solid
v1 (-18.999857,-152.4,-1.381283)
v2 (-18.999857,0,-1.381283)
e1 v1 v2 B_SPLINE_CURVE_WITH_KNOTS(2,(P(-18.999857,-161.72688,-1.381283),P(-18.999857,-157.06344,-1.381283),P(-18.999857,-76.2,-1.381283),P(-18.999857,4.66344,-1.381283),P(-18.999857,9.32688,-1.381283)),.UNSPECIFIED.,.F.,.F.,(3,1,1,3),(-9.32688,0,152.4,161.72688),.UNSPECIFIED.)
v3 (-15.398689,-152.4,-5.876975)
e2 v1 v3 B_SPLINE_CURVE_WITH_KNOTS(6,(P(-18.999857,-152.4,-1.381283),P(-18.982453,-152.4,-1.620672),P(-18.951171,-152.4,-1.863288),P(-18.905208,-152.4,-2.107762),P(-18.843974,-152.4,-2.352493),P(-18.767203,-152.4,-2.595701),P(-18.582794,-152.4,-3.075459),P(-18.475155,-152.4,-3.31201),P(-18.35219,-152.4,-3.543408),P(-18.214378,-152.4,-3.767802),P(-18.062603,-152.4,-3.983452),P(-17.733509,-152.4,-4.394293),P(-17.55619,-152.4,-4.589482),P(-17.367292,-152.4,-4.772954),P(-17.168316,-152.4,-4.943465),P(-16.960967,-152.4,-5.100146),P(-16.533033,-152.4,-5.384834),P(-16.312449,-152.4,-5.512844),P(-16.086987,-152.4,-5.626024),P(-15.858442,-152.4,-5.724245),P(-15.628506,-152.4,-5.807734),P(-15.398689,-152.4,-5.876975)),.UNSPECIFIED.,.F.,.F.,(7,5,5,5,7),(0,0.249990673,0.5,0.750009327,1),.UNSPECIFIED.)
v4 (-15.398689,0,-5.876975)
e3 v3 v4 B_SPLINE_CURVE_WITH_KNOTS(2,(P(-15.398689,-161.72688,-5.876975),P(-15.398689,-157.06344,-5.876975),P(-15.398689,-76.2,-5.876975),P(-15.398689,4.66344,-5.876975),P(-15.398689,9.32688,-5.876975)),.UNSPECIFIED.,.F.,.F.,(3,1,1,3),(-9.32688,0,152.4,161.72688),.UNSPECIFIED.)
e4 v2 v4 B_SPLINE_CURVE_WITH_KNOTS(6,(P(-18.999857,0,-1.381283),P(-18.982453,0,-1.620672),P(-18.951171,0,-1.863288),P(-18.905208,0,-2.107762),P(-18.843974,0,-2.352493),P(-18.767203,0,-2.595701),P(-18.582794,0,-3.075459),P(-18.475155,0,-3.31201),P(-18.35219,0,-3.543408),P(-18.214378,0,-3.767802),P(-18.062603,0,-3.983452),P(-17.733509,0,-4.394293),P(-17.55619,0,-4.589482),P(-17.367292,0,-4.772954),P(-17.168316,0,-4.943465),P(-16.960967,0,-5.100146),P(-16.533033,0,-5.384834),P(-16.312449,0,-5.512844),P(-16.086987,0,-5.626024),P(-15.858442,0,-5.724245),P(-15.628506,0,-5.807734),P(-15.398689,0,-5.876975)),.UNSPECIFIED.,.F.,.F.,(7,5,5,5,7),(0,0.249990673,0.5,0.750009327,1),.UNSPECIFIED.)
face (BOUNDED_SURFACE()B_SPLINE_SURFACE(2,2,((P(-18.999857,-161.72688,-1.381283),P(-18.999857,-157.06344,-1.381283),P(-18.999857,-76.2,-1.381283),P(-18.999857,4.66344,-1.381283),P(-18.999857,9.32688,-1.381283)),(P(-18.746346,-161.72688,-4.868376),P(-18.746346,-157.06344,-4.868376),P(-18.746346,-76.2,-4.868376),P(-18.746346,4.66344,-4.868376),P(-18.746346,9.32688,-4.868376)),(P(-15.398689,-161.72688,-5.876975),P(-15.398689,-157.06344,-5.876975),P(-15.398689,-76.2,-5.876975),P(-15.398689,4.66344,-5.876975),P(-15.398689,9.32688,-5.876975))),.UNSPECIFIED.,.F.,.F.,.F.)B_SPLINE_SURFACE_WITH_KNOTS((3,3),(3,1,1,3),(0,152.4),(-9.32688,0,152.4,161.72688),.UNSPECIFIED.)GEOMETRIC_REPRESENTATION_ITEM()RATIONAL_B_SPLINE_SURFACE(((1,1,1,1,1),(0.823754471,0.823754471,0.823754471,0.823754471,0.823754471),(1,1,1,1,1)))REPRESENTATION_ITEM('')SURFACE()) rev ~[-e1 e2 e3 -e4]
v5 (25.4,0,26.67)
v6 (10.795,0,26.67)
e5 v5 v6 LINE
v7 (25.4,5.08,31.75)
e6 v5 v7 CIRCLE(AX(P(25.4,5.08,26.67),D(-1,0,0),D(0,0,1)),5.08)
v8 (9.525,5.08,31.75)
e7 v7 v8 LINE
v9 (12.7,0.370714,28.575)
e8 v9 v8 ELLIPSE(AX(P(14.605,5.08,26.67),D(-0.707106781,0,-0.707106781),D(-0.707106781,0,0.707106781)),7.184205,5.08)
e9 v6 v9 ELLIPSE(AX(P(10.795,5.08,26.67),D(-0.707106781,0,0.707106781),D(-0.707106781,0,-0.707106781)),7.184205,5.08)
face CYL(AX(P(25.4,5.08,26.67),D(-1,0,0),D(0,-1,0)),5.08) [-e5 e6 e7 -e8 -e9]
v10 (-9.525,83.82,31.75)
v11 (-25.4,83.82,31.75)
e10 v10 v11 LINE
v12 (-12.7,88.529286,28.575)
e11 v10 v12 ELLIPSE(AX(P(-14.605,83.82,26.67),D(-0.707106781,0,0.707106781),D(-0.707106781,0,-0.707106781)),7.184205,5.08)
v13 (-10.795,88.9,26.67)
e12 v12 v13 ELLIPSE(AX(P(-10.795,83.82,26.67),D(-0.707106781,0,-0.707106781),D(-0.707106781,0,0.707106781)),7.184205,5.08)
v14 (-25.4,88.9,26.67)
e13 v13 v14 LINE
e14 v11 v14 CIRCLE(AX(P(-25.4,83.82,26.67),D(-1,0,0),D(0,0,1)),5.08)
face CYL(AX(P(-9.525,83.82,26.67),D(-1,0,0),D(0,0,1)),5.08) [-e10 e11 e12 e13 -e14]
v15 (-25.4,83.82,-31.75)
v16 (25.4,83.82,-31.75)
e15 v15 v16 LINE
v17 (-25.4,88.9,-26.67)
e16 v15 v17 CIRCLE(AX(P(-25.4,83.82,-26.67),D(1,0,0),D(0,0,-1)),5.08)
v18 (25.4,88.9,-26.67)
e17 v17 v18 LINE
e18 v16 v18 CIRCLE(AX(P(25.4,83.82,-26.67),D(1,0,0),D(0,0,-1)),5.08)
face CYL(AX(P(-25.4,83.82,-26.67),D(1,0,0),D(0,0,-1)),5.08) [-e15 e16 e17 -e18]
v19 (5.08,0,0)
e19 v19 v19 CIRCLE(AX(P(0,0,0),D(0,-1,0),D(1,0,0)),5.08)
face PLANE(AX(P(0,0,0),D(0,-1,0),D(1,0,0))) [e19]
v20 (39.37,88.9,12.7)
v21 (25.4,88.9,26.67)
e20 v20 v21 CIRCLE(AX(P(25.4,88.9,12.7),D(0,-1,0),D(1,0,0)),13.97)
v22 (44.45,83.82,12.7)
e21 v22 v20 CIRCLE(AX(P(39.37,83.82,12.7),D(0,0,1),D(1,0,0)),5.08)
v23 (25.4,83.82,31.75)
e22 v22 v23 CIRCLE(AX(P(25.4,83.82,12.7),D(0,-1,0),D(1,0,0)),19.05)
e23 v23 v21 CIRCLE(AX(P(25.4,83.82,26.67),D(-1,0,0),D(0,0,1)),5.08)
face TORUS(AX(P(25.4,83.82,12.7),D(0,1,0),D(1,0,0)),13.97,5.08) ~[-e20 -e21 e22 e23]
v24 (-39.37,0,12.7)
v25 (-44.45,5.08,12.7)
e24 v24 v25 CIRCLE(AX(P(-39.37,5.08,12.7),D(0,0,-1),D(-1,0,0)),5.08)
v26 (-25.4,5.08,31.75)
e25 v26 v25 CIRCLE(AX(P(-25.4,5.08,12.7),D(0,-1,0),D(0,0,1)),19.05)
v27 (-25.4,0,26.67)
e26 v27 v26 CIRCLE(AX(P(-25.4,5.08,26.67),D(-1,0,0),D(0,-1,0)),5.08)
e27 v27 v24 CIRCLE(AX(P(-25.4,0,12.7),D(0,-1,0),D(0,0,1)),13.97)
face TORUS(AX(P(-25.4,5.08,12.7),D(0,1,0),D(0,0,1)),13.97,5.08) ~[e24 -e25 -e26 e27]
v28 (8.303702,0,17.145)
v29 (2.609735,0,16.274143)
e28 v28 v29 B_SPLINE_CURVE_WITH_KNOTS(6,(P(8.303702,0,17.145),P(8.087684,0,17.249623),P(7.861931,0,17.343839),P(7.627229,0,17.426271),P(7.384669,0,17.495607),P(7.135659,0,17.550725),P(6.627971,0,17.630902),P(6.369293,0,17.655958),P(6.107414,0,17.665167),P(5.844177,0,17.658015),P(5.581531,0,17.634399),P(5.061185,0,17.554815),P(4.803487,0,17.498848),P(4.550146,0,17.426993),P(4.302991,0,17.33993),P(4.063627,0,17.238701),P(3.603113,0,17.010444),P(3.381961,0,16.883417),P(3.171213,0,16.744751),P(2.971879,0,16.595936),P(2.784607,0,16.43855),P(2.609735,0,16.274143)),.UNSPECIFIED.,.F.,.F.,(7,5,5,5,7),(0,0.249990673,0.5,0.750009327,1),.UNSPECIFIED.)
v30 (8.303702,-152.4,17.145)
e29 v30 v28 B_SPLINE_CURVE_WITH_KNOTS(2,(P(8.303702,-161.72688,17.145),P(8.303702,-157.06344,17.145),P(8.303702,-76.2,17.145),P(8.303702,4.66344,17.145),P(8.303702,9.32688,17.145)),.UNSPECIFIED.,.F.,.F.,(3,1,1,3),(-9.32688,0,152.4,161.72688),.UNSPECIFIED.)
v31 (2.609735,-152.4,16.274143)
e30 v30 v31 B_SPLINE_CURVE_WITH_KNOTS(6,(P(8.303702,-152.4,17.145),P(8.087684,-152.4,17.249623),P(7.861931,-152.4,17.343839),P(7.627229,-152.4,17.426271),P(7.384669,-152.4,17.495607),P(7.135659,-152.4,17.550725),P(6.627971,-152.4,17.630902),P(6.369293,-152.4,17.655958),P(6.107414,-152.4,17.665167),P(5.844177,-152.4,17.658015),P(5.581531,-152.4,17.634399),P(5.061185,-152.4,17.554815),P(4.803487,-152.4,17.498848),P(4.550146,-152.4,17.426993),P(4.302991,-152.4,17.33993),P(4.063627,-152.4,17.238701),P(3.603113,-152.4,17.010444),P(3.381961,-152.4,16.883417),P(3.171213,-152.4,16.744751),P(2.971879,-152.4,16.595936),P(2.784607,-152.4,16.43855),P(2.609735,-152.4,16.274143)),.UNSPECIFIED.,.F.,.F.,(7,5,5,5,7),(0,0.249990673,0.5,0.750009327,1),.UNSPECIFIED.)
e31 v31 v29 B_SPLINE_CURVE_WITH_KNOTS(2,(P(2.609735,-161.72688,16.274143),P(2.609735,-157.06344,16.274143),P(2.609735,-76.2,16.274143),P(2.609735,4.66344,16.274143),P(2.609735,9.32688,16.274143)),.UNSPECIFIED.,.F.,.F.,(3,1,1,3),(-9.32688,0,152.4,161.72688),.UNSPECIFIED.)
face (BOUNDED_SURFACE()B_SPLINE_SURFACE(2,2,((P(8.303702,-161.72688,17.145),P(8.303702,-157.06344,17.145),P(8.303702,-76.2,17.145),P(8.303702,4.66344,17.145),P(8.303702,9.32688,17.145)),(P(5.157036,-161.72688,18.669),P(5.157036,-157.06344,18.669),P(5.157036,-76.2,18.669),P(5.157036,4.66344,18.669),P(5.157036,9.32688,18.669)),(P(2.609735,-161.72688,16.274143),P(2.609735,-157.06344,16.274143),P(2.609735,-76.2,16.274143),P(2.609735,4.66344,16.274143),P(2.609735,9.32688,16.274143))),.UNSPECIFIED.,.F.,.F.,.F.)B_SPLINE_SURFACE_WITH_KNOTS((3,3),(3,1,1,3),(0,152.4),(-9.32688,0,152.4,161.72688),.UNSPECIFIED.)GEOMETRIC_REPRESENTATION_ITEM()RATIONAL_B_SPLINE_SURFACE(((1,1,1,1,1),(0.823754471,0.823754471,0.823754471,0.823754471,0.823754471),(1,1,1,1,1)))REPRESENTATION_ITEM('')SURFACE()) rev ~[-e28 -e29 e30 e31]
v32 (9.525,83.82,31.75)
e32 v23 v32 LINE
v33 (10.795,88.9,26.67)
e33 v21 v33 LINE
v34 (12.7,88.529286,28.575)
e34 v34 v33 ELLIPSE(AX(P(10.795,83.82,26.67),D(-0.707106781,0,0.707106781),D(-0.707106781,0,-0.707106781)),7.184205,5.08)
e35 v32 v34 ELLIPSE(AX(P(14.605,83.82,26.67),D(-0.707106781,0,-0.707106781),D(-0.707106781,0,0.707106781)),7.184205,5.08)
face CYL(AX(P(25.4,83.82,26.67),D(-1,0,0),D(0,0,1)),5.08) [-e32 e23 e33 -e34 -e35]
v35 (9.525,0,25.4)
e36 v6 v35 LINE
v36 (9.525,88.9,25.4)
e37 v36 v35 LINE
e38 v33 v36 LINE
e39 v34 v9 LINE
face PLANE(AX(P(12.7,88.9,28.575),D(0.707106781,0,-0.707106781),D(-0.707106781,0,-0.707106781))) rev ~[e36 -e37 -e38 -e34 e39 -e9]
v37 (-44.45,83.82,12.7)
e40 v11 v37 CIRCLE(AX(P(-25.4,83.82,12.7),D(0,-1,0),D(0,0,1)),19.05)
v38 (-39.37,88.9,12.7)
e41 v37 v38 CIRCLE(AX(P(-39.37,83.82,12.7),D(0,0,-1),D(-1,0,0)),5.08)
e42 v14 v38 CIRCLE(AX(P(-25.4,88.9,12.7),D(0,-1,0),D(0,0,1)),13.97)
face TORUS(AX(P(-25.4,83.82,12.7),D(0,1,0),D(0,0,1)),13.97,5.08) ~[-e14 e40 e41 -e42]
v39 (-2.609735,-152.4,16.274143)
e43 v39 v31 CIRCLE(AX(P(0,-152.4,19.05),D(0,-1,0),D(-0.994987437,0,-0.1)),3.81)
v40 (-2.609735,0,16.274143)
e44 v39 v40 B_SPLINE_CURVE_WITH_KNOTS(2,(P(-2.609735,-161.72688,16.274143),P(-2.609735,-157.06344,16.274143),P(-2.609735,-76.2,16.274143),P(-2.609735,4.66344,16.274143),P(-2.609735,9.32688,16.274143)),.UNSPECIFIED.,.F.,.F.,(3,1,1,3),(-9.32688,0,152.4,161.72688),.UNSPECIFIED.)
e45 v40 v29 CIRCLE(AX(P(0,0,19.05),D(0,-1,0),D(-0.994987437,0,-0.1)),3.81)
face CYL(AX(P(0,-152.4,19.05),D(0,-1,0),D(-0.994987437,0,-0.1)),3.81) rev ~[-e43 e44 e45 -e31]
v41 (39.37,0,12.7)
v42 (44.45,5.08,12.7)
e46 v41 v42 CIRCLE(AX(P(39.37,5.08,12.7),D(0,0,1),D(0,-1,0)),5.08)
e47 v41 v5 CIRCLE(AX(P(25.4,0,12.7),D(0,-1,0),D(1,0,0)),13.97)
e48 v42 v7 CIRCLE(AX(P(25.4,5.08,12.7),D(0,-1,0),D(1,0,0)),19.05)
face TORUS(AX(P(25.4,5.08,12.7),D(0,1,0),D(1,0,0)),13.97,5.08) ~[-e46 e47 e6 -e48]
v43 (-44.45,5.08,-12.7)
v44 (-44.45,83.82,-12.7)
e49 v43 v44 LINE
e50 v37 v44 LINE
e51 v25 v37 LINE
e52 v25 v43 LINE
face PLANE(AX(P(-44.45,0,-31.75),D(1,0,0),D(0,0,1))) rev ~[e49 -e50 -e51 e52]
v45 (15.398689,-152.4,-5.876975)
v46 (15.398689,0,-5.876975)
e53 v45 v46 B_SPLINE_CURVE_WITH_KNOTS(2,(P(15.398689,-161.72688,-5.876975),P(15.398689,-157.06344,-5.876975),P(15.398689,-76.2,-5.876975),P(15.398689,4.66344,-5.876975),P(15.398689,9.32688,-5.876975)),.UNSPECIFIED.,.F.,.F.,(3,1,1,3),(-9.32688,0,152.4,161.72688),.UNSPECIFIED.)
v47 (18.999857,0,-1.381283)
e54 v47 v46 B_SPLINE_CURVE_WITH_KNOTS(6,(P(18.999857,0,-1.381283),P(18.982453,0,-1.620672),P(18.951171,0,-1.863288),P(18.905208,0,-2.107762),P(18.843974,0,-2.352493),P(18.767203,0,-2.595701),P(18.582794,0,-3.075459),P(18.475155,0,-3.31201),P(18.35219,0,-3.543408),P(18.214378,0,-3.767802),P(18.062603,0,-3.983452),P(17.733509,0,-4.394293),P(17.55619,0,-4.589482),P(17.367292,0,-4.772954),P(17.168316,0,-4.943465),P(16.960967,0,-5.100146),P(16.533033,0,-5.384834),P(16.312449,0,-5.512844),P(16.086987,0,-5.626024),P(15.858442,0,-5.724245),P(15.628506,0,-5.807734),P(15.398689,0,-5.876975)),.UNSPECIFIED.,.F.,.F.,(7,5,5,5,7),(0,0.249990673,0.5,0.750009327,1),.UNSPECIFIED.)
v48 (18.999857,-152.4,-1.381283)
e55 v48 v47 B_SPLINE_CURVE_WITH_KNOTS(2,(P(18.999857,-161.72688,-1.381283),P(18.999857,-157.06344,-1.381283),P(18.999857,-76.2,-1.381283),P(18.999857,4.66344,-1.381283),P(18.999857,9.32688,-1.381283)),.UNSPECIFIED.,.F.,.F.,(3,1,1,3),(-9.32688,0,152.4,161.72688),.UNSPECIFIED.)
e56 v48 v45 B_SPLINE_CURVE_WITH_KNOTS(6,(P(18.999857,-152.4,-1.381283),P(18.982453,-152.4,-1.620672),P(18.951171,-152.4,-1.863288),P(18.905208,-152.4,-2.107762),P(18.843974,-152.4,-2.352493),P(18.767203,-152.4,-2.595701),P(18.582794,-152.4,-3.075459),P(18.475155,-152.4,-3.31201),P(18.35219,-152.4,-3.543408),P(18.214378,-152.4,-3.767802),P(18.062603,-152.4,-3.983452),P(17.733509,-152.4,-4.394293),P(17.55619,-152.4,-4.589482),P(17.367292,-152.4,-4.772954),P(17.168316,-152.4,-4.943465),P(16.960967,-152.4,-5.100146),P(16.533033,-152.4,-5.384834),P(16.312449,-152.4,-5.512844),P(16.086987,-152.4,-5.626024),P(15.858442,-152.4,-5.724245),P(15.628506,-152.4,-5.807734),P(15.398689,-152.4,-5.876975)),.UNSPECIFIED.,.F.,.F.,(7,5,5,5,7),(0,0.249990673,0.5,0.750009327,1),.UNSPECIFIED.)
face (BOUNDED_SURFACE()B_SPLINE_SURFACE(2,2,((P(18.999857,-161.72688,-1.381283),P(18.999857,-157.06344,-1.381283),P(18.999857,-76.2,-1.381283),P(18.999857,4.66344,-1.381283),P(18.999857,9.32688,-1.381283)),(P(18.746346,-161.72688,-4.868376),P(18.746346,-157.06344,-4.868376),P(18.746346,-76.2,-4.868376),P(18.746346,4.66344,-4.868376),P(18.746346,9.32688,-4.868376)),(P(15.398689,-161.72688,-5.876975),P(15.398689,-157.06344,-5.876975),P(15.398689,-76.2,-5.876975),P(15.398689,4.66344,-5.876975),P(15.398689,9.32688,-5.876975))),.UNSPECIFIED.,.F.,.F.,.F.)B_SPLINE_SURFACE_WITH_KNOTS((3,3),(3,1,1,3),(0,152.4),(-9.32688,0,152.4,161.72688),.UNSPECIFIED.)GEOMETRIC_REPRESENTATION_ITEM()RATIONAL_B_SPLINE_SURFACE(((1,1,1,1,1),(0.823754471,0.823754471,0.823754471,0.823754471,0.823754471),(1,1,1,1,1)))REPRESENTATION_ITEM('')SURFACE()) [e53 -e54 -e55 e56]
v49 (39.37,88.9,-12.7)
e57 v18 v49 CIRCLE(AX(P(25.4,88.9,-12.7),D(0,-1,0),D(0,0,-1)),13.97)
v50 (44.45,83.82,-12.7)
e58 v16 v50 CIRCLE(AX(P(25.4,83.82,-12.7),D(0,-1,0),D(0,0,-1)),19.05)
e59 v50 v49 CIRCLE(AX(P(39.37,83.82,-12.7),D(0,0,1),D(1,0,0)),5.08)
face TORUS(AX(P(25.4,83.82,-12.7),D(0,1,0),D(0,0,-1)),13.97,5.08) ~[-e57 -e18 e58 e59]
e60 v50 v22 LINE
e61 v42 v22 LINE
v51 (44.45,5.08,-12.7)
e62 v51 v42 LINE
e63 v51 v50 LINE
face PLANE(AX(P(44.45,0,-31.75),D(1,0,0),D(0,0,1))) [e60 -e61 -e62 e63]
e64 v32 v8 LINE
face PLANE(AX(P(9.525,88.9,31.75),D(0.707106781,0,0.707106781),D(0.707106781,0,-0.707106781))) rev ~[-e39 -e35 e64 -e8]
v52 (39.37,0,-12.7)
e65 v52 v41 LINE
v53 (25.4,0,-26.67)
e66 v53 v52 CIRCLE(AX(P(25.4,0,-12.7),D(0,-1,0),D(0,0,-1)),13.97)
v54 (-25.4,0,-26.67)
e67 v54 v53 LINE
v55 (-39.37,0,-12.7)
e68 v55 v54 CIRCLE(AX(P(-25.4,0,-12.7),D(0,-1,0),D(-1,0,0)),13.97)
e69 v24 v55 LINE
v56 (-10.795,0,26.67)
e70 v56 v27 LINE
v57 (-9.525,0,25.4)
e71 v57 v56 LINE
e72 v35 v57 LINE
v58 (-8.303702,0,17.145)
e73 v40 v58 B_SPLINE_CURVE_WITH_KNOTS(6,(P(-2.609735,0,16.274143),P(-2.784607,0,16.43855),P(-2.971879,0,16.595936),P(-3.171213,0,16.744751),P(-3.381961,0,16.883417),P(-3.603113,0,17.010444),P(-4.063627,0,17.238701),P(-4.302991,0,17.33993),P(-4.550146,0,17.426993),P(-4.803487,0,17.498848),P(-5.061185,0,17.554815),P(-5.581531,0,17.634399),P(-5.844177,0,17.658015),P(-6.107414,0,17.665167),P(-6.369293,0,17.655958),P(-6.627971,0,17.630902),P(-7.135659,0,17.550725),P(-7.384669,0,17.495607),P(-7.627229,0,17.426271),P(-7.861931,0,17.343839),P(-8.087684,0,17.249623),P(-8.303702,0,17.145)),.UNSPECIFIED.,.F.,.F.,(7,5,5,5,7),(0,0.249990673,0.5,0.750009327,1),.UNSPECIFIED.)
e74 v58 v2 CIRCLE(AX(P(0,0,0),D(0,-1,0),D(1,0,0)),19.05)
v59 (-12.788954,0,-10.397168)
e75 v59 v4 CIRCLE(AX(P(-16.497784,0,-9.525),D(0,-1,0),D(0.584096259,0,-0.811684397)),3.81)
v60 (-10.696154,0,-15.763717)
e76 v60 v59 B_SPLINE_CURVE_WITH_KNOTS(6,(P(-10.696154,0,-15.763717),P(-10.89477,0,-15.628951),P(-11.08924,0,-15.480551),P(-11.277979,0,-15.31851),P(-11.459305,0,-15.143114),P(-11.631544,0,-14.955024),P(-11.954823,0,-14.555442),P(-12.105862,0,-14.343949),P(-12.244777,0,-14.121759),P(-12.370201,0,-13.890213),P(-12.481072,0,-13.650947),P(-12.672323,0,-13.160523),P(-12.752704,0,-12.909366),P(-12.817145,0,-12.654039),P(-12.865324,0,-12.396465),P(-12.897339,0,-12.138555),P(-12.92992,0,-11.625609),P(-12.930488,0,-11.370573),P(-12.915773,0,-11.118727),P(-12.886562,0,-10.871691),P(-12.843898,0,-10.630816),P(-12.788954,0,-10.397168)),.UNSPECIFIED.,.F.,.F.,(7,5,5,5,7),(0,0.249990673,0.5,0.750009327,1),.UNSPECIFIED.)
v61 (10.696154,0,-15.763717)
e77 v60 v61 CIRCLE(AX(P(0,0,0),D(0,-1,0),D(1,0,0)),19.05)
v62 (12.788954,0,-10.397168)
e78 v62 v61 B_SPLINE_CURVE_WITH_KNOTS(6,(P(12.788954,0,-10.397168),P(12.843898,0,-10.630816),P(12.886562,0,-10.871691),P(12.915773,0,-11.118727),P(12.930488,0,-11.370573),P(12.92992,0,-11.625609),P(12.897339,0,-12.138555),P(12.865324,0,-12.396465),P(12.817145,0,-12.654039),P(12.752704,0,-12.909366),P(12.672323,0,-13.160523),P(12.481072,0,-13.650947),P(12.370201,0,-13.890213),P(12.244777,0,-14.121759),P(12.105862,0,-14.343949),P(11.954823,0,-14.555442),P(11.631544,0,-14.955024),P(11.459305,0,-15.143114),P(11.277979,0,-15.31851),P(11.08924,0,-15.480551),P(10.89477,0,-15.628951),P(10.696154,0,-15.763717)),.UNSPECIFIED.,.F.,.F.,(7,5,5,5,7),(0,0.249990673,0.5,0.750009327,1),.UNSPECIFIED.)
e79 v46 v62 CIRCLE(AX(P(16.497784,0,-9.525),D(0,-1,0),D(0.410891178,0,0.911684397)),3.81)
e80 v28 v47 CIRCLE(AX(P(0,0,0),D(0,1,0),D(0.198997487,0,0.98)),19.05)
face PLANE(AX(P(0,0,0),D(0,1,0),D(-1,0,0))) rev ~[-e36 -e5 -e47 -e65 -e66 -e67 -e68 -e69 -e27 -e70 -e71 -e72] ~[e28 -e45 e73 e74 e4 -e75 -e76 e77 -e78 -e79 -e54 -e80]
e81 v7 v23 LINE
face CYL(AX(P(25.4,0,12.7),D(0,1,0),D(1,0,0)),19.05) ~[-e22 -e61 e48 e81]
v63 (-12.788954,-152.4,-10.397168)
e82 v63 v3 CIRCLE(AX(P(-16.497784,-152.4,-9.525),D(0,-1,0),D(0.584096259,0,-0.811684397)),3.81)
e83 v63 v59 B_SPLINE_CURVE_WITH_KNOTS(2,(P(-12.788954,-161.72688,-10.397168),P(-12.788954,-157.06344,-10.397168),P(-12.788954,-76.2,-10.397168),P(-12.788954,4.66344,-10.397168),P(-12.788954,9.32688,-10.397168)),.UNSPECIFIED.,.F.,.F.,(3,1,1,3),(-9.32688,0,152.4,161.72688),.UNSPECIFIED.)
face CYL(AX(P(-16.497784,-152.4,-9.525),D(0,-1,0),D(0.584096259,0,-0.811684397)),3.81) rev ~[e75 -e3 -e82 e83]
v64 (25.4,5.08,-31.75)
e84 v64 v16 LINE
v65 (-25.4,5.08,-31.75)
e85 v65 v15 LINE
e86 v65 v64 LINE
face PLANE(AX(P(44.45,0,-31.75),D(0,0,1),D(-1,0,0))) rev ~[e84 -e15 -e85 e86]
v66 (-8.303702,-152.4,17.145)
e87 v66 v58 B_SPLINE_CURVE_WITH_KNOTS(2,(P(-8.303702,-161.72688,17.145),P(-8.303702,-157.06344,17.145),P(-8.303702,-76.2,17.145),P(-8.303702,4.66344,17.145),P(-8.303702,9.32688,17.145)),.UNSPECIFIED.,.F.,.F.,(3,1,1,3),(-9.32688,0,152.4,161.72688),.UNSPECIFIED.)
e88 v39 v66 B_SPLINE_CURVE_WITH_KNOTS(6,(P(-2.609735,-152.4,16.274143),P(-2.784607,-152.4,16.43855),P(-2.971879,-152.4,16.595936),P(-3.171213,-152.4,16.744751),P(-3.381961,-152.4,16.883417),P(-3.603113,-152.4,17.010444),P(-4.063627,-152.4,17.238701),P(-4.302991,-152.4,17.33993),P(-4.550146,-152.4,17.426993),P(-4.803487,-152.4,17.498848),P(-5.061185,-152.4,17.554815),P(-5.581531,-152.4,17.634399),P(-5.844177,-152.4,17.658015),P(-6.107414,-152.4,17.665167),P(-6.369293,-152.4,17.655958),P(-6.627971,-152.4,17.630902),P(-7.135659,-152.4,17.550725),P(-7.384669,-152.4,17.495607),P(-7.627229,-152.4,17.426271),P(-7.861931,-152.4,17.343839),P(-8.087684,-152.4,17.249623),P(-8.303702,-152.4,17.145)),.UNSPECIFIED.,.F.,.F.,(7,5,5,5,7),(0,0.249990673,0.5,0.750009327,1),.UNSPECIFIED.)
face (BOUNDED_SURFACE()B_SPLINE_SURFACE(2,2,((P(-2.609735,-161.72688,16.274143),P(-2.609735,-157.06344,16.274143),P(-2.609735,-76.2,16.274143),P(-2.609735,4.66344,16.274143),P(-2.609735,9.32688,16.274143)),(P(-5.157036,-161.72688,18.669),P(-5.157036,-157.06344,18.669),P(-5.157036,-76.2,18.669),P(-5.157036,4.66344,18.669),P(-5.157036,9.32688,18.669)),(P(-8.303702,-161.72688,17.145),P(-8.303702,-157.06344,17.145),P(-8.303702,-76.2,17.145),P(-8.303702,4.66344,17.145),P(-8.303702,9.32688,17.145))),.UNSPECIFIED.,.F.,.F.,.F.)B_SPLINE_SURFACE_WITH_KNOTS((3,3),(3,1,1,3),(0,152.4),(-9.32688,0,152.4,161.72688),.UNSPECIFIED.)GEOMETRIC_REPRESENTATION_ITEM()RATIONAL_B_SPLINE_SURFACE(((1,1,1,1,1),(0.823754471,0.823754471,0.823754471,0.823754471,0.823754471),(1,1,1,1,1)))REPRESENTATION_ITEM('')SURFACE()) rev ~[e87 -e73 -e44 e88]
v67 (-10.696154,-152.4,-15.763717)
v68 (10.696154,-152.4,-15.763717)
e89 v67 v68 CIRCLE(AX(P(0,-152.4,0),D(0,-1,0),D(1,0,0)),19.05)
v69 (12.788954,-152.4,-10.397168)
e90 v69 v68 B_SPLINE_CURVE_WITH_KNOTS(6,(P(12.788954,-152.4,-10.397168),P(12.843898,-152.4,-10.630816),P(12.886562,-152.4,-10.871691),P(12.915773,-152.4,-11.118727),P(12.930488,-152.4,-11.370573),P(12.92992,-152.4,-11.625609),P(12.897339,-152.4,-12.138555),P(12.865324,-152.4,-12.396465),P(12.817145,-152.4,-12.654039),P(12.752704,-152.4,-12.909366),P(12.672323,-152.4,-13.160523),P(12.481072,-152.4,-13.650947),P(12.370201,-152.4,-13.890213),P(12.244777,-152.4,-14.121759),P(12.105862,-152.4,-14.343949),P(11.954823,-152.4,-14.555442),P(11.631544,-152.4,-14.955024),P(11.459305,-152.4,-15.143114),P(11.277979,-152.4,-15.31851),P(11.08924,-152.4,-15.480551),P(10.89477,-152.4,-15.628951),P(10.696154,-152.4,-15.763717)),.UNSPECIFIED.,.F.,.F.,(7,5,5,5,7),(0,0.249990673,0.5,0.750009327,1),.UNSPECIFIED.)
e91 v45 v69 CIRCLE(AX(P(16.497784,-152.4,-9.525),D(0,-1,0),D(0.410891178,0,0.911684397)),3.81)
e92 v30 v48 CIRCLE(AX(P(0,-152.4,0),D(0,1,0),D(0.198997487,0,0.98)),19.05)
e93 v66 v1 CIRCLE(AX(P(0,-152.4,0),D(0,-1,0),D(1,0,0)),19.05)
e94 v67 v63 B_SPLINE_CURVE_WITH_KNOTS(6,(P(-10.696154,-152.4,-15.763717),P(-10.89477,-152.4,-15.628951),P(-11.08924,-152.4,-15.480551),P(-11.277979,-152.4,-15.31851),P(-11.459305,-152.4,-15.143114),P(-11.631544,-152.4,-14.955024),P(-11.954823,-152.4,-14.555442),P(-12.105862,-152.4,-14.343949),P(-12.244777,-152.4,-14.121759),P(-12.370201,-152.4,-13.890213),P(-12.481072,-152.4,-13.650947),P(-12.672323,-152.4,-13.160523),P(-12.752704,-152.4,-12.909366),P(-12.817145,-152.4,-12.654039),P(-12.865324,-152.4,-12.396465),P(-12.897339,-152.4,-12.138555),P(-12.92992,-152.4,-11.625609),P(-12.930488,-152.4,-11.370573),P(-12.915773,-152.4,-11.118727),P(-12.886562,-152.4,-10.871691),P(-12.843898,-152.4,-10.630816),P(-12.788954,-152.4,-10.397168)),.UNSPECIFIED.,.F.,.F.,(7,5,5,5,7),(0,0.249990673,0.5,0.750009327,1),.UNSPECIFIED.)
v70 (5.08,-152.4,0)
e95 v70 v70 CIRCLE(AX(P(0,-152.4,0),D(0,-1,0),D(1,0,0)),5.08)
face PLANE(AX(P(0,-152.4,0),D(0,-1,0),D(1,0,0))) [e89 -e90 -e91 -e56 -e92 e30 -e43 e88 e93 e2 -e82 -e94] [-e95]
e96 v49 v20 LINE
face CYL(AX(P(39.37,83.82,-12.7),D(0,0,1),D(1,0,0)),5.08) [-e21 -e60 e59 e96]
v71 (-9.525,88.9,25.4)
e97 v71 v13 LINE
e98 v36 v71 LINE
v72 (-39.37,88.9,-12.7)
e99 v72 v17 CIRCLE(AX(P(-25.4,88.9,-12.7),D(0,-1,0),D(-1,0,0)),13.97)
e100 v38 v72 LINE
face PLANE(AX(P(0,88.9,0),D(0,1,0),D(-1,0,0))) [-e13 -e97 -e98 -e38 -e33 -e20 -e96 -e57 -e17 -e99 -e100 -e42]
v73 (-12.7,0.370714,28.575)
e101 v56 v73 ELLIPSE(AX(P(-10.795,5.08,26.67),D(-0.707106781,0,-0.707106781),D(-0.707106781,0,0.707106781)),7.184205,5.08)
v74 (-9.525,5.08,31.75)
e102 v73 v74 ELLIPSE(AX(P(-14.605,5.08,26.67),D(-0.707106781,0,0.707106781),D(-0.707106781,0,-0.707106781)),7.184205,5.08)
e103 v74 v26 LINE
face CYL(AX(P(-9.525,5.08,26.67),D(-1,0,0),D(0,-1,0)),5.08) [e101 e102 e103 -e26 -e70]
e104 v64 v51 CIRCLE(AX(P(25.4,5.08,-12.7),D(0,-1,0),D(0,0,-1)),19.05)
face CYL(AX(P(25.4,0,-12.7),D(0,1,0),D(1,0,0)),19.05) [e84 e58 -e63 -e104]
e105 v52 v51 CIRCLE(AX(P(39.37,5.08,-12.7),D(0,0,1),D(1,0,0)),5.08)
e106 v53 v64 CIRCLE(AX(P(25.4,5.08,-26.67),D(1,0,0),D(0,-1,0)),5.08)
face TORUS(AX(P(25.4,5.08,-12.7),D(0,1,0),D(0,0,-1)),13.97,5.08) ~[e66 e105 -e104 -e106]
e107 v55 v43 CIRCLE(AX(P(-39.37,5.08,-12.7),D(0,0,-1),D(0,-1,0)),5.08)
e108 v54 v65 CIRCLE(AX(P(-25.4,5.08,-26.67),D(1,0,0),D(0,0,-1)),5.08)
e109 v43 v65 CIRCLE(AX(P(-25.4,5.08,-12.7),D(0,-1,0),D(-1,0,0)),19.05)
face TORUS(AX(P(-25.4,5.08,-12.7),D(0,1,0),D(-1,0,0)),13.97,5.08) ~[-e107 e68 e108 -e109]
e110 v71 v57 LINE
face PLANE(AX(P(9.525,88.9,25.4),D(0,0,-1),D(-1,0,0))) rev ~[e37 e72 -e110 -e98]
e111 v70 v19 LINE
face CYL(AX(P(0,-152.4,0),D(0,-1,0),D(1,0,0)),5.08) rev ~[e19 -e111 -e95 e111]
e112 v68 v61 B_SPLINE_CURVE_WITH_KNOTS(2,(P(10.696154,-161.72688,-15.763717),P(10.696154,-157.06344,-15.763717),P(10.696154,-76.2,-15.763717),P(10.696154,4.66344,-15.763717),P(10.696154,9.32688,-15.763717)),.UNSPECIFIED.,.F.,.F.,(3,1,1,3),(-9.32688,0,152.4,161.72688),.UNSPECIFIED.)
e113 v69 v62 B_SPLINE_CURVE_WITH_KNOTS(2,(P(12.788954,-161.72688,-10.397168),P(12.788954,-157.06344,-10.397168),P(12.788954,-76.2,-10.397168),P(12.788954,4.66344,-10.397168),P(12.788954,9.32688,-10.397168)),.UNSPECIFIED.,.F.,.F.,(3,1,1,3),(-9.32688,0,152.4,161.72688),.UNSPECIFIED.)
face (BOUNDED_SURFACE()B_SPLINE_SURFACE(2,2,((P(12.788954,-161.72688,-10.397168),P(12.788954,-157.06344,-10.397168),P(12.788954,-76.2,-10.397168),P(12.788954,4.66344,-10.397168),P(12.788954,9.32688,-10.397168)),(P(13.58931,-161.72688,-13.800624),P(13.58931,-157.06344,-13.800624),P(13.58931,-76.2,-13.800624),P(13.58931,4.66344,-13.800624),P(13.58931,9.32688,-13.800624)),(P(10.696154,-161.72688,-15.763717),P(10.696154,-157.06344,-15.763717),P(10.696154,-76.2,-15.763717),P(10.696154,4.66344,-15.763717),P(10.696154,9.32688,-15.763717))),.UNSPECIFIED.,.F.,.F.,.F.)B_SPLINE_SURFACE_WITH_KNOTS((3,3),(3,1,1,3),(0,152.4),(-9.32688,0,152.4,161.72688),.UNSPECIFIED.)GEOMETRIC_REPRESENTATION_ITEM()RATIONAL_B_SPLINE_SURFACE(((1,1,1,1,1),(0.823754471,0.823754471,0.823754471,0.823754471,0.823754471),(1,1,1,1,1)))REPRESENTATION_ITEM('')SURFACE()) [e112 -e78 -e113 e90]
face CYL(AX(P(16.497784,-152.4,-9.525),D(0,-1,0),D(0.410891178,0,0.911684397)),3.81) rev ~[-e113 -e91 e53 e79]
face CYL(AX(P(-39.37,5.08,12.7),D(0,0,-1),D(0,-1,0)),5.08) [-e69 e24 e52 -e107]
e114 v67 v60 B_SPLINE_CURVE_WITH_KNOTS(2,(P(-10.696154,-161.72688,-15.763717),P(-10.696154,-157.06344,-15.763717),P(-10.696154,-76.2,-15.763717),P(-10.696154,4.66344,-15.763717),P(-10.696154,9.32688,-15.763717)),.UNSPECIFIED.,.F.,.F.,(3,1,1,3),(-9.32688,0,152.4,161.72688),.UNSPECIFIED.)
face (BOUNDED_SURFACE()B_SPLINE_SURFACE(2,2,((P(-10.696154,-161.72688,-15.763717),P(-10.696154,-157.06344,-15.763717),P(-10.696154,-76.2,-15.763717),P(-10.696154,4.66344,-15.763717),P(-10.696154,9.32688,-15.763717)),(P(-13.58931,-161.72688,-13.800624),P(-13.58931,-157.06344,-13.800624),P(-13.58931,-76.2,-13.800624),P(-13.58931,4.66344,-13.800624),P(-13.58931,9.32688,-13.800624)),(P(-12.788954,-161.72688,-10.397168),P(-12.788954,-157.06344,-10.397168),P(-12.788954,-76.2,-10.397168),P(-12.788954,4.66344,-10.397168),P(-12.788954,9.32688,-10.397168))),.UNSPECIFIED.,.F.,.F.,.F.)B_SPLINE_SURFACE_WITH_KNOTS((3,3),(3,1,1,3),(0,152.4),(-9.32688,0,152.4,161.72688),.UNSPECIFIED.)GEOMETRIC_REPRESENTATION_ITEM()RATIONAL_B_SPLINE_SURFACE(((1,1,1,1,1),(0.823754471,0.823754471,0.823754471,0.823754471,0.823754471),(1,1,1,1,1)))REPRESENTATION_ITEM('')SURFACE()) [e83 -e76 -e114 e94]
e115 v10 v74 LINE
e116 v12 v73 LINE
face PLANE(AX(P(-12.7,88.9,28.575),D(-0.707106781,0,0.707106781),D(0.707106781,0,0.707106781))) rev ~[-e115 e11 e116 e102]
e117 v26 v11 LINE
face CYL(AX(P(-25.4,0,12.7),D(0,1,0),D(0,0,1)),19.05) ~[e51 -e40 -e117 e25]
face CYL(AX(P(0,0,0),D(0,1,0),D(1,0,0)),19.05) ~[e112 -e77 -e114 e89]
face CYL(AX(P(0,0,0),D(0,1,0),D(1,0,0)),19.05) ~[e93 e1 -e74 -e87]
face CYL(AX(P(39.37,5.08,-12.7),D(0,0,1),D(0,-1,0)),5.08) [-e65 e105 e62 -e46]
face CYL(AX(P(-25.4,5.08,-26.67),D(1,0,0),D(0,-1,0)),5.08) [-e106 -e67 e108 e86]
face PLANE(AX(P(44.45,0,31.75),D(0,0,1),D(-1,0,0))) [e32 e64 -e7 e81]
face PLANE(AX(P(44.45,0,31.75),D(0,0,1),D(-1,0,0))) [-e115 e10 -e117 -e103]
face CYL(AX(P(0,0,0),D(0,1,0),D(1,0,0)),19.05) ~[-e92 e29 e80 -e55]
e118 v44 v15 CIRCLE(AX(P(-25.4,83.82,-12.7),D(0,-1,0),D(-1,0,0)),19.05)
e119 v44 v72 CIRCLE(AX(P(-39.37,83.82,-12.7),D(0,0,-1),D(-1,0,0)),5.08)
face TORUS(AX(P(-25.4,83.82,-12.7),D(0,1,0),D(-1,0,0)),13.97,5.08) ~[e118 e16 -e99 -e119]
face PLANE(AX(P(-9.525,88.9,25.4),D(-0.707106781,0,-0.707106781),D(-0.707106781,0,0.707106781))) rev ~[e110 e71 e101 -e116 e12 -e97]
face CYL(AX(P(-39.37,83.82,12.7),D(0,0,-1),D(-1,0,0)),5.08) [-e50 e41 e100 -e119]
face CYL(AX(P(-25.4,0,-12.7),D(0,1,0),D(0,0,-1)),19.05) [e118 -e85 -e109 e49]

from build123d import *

# Parameters (mm, degrees)
F0_R     = 19.05
F1_DEPTH = 152.4
F2_W     = 88.9
F2_H     = 63.5
F3_DEPTH = 88.9
F4_R     = 19.05
F5_R     = 5.08
F6_DEPTH = 152.4
F8_DEPTH = 241.301
F9_R     = 5.08
F10_R    = 5.08


with BuildPart() as f1:
    # F0 (on Front) → F1 (new body)
    with BuildSketch(Plane.XZ):
        Circle(F0_R)
    extrude(amount=F1_DEPTH)

    # F2 (on face) → F3 (join)
    with BuildSketch(Plane(origin=(0, 0, 0), x_dir=(-1, 0, 0), z_dir=(0, 1, 0))):
        Rectangle(F2_W, F2_H)
    extrude(amount=F3_DEPTH)

    # F4
    f4_edges = [f1.edges().sort_by_distance(p)[0] for p in [
        (44.45, 44.45, 31.75),
        (-44.45, 44.45, 31.75),
        (-44.45, 44.45, -31.75),
        (44.45, 44.45, -31.75),
    ]]
    fillet(f4_edges, radius=F4_R)

    # F5 (on face) → F6 (cut, through all)
    with BuildSketch(Plane.XZ.offset(152.4)):
        Circle(F5_R)
        with BuildLine():
            ThreePointArc((3.7909021354, 18.669), (0, 19.05), (-3.7909021354, 18.669))
            ThreePointArc((-3.7909021354, 18.669), (0, 15.24), (3.7909021354, 18.669))
        make_face()
        with BuildLine():
            ThreePointArc((-18.0632793309, -6.0514824475), (-16.4977839421, -9.525), (-14.2723771956, -12.6175175525))
            ThreePointArc((-14.2723771956, -12.6175175525), (-13.1982271537, -7.62), (-18.0632793309, -6.0514824475))
        make_face()
        with BuildLine():
            ThreePointArc((14.2723771956, -12.6175175525), (16.4977839421, -9.525), (18.0632793309, -6.0514824475))
            ThreePointArc((18.0632793309, -6.0514824475), (13.1982271537, -7.62), (14.2723771956, -12.6175175525))
        make_face()
    extrude(amount=-F6_DEPTH, mode=Mode.SUBTRACT)

    # F7 (on face) → F8 (cut, through all)
    with BuildSketch(Plane(origin=(0, 88.9, 0), x_dir=(-1, 0, 0), z_dir=(0, 1, 0))):
        Polygon((9.525, 31.75), (0, 31.75), (-9.525, 31.75), (-12.7, 28.575), (-9.525, 25.4), (0, 25.4), (9.525, 25.4), (12.7, 28.575), align=None)
    extrude(amount=-F8_DEPTH, mode=Mode.SUBTRACT)

    # F9
    f9_edges = [f1.edges().sort_by_distance(p)[0] for p in [
        (3.790902, -76.2, 18.669),
        (-3.790902, -76.2, 18.669),
        (-14.272377, -76.2, -12.617518),
        (-18.063279, -76.2, -6.051482),
        (18.063279, -76.2, -6.051482),
        (14.272377, -76.2, -12.617518),
    ]]
    fillet(f9_edges, radius=F9_R)

    # F10
    f10_edges = [f1.edges().sort_by_distance(p)[0] for p in [
        (44.45, 0, 0),
        (44.45, 88.9, 0),
    ]]
    fillet(f10_edges, radius=F10_R)


solid = f1.part
